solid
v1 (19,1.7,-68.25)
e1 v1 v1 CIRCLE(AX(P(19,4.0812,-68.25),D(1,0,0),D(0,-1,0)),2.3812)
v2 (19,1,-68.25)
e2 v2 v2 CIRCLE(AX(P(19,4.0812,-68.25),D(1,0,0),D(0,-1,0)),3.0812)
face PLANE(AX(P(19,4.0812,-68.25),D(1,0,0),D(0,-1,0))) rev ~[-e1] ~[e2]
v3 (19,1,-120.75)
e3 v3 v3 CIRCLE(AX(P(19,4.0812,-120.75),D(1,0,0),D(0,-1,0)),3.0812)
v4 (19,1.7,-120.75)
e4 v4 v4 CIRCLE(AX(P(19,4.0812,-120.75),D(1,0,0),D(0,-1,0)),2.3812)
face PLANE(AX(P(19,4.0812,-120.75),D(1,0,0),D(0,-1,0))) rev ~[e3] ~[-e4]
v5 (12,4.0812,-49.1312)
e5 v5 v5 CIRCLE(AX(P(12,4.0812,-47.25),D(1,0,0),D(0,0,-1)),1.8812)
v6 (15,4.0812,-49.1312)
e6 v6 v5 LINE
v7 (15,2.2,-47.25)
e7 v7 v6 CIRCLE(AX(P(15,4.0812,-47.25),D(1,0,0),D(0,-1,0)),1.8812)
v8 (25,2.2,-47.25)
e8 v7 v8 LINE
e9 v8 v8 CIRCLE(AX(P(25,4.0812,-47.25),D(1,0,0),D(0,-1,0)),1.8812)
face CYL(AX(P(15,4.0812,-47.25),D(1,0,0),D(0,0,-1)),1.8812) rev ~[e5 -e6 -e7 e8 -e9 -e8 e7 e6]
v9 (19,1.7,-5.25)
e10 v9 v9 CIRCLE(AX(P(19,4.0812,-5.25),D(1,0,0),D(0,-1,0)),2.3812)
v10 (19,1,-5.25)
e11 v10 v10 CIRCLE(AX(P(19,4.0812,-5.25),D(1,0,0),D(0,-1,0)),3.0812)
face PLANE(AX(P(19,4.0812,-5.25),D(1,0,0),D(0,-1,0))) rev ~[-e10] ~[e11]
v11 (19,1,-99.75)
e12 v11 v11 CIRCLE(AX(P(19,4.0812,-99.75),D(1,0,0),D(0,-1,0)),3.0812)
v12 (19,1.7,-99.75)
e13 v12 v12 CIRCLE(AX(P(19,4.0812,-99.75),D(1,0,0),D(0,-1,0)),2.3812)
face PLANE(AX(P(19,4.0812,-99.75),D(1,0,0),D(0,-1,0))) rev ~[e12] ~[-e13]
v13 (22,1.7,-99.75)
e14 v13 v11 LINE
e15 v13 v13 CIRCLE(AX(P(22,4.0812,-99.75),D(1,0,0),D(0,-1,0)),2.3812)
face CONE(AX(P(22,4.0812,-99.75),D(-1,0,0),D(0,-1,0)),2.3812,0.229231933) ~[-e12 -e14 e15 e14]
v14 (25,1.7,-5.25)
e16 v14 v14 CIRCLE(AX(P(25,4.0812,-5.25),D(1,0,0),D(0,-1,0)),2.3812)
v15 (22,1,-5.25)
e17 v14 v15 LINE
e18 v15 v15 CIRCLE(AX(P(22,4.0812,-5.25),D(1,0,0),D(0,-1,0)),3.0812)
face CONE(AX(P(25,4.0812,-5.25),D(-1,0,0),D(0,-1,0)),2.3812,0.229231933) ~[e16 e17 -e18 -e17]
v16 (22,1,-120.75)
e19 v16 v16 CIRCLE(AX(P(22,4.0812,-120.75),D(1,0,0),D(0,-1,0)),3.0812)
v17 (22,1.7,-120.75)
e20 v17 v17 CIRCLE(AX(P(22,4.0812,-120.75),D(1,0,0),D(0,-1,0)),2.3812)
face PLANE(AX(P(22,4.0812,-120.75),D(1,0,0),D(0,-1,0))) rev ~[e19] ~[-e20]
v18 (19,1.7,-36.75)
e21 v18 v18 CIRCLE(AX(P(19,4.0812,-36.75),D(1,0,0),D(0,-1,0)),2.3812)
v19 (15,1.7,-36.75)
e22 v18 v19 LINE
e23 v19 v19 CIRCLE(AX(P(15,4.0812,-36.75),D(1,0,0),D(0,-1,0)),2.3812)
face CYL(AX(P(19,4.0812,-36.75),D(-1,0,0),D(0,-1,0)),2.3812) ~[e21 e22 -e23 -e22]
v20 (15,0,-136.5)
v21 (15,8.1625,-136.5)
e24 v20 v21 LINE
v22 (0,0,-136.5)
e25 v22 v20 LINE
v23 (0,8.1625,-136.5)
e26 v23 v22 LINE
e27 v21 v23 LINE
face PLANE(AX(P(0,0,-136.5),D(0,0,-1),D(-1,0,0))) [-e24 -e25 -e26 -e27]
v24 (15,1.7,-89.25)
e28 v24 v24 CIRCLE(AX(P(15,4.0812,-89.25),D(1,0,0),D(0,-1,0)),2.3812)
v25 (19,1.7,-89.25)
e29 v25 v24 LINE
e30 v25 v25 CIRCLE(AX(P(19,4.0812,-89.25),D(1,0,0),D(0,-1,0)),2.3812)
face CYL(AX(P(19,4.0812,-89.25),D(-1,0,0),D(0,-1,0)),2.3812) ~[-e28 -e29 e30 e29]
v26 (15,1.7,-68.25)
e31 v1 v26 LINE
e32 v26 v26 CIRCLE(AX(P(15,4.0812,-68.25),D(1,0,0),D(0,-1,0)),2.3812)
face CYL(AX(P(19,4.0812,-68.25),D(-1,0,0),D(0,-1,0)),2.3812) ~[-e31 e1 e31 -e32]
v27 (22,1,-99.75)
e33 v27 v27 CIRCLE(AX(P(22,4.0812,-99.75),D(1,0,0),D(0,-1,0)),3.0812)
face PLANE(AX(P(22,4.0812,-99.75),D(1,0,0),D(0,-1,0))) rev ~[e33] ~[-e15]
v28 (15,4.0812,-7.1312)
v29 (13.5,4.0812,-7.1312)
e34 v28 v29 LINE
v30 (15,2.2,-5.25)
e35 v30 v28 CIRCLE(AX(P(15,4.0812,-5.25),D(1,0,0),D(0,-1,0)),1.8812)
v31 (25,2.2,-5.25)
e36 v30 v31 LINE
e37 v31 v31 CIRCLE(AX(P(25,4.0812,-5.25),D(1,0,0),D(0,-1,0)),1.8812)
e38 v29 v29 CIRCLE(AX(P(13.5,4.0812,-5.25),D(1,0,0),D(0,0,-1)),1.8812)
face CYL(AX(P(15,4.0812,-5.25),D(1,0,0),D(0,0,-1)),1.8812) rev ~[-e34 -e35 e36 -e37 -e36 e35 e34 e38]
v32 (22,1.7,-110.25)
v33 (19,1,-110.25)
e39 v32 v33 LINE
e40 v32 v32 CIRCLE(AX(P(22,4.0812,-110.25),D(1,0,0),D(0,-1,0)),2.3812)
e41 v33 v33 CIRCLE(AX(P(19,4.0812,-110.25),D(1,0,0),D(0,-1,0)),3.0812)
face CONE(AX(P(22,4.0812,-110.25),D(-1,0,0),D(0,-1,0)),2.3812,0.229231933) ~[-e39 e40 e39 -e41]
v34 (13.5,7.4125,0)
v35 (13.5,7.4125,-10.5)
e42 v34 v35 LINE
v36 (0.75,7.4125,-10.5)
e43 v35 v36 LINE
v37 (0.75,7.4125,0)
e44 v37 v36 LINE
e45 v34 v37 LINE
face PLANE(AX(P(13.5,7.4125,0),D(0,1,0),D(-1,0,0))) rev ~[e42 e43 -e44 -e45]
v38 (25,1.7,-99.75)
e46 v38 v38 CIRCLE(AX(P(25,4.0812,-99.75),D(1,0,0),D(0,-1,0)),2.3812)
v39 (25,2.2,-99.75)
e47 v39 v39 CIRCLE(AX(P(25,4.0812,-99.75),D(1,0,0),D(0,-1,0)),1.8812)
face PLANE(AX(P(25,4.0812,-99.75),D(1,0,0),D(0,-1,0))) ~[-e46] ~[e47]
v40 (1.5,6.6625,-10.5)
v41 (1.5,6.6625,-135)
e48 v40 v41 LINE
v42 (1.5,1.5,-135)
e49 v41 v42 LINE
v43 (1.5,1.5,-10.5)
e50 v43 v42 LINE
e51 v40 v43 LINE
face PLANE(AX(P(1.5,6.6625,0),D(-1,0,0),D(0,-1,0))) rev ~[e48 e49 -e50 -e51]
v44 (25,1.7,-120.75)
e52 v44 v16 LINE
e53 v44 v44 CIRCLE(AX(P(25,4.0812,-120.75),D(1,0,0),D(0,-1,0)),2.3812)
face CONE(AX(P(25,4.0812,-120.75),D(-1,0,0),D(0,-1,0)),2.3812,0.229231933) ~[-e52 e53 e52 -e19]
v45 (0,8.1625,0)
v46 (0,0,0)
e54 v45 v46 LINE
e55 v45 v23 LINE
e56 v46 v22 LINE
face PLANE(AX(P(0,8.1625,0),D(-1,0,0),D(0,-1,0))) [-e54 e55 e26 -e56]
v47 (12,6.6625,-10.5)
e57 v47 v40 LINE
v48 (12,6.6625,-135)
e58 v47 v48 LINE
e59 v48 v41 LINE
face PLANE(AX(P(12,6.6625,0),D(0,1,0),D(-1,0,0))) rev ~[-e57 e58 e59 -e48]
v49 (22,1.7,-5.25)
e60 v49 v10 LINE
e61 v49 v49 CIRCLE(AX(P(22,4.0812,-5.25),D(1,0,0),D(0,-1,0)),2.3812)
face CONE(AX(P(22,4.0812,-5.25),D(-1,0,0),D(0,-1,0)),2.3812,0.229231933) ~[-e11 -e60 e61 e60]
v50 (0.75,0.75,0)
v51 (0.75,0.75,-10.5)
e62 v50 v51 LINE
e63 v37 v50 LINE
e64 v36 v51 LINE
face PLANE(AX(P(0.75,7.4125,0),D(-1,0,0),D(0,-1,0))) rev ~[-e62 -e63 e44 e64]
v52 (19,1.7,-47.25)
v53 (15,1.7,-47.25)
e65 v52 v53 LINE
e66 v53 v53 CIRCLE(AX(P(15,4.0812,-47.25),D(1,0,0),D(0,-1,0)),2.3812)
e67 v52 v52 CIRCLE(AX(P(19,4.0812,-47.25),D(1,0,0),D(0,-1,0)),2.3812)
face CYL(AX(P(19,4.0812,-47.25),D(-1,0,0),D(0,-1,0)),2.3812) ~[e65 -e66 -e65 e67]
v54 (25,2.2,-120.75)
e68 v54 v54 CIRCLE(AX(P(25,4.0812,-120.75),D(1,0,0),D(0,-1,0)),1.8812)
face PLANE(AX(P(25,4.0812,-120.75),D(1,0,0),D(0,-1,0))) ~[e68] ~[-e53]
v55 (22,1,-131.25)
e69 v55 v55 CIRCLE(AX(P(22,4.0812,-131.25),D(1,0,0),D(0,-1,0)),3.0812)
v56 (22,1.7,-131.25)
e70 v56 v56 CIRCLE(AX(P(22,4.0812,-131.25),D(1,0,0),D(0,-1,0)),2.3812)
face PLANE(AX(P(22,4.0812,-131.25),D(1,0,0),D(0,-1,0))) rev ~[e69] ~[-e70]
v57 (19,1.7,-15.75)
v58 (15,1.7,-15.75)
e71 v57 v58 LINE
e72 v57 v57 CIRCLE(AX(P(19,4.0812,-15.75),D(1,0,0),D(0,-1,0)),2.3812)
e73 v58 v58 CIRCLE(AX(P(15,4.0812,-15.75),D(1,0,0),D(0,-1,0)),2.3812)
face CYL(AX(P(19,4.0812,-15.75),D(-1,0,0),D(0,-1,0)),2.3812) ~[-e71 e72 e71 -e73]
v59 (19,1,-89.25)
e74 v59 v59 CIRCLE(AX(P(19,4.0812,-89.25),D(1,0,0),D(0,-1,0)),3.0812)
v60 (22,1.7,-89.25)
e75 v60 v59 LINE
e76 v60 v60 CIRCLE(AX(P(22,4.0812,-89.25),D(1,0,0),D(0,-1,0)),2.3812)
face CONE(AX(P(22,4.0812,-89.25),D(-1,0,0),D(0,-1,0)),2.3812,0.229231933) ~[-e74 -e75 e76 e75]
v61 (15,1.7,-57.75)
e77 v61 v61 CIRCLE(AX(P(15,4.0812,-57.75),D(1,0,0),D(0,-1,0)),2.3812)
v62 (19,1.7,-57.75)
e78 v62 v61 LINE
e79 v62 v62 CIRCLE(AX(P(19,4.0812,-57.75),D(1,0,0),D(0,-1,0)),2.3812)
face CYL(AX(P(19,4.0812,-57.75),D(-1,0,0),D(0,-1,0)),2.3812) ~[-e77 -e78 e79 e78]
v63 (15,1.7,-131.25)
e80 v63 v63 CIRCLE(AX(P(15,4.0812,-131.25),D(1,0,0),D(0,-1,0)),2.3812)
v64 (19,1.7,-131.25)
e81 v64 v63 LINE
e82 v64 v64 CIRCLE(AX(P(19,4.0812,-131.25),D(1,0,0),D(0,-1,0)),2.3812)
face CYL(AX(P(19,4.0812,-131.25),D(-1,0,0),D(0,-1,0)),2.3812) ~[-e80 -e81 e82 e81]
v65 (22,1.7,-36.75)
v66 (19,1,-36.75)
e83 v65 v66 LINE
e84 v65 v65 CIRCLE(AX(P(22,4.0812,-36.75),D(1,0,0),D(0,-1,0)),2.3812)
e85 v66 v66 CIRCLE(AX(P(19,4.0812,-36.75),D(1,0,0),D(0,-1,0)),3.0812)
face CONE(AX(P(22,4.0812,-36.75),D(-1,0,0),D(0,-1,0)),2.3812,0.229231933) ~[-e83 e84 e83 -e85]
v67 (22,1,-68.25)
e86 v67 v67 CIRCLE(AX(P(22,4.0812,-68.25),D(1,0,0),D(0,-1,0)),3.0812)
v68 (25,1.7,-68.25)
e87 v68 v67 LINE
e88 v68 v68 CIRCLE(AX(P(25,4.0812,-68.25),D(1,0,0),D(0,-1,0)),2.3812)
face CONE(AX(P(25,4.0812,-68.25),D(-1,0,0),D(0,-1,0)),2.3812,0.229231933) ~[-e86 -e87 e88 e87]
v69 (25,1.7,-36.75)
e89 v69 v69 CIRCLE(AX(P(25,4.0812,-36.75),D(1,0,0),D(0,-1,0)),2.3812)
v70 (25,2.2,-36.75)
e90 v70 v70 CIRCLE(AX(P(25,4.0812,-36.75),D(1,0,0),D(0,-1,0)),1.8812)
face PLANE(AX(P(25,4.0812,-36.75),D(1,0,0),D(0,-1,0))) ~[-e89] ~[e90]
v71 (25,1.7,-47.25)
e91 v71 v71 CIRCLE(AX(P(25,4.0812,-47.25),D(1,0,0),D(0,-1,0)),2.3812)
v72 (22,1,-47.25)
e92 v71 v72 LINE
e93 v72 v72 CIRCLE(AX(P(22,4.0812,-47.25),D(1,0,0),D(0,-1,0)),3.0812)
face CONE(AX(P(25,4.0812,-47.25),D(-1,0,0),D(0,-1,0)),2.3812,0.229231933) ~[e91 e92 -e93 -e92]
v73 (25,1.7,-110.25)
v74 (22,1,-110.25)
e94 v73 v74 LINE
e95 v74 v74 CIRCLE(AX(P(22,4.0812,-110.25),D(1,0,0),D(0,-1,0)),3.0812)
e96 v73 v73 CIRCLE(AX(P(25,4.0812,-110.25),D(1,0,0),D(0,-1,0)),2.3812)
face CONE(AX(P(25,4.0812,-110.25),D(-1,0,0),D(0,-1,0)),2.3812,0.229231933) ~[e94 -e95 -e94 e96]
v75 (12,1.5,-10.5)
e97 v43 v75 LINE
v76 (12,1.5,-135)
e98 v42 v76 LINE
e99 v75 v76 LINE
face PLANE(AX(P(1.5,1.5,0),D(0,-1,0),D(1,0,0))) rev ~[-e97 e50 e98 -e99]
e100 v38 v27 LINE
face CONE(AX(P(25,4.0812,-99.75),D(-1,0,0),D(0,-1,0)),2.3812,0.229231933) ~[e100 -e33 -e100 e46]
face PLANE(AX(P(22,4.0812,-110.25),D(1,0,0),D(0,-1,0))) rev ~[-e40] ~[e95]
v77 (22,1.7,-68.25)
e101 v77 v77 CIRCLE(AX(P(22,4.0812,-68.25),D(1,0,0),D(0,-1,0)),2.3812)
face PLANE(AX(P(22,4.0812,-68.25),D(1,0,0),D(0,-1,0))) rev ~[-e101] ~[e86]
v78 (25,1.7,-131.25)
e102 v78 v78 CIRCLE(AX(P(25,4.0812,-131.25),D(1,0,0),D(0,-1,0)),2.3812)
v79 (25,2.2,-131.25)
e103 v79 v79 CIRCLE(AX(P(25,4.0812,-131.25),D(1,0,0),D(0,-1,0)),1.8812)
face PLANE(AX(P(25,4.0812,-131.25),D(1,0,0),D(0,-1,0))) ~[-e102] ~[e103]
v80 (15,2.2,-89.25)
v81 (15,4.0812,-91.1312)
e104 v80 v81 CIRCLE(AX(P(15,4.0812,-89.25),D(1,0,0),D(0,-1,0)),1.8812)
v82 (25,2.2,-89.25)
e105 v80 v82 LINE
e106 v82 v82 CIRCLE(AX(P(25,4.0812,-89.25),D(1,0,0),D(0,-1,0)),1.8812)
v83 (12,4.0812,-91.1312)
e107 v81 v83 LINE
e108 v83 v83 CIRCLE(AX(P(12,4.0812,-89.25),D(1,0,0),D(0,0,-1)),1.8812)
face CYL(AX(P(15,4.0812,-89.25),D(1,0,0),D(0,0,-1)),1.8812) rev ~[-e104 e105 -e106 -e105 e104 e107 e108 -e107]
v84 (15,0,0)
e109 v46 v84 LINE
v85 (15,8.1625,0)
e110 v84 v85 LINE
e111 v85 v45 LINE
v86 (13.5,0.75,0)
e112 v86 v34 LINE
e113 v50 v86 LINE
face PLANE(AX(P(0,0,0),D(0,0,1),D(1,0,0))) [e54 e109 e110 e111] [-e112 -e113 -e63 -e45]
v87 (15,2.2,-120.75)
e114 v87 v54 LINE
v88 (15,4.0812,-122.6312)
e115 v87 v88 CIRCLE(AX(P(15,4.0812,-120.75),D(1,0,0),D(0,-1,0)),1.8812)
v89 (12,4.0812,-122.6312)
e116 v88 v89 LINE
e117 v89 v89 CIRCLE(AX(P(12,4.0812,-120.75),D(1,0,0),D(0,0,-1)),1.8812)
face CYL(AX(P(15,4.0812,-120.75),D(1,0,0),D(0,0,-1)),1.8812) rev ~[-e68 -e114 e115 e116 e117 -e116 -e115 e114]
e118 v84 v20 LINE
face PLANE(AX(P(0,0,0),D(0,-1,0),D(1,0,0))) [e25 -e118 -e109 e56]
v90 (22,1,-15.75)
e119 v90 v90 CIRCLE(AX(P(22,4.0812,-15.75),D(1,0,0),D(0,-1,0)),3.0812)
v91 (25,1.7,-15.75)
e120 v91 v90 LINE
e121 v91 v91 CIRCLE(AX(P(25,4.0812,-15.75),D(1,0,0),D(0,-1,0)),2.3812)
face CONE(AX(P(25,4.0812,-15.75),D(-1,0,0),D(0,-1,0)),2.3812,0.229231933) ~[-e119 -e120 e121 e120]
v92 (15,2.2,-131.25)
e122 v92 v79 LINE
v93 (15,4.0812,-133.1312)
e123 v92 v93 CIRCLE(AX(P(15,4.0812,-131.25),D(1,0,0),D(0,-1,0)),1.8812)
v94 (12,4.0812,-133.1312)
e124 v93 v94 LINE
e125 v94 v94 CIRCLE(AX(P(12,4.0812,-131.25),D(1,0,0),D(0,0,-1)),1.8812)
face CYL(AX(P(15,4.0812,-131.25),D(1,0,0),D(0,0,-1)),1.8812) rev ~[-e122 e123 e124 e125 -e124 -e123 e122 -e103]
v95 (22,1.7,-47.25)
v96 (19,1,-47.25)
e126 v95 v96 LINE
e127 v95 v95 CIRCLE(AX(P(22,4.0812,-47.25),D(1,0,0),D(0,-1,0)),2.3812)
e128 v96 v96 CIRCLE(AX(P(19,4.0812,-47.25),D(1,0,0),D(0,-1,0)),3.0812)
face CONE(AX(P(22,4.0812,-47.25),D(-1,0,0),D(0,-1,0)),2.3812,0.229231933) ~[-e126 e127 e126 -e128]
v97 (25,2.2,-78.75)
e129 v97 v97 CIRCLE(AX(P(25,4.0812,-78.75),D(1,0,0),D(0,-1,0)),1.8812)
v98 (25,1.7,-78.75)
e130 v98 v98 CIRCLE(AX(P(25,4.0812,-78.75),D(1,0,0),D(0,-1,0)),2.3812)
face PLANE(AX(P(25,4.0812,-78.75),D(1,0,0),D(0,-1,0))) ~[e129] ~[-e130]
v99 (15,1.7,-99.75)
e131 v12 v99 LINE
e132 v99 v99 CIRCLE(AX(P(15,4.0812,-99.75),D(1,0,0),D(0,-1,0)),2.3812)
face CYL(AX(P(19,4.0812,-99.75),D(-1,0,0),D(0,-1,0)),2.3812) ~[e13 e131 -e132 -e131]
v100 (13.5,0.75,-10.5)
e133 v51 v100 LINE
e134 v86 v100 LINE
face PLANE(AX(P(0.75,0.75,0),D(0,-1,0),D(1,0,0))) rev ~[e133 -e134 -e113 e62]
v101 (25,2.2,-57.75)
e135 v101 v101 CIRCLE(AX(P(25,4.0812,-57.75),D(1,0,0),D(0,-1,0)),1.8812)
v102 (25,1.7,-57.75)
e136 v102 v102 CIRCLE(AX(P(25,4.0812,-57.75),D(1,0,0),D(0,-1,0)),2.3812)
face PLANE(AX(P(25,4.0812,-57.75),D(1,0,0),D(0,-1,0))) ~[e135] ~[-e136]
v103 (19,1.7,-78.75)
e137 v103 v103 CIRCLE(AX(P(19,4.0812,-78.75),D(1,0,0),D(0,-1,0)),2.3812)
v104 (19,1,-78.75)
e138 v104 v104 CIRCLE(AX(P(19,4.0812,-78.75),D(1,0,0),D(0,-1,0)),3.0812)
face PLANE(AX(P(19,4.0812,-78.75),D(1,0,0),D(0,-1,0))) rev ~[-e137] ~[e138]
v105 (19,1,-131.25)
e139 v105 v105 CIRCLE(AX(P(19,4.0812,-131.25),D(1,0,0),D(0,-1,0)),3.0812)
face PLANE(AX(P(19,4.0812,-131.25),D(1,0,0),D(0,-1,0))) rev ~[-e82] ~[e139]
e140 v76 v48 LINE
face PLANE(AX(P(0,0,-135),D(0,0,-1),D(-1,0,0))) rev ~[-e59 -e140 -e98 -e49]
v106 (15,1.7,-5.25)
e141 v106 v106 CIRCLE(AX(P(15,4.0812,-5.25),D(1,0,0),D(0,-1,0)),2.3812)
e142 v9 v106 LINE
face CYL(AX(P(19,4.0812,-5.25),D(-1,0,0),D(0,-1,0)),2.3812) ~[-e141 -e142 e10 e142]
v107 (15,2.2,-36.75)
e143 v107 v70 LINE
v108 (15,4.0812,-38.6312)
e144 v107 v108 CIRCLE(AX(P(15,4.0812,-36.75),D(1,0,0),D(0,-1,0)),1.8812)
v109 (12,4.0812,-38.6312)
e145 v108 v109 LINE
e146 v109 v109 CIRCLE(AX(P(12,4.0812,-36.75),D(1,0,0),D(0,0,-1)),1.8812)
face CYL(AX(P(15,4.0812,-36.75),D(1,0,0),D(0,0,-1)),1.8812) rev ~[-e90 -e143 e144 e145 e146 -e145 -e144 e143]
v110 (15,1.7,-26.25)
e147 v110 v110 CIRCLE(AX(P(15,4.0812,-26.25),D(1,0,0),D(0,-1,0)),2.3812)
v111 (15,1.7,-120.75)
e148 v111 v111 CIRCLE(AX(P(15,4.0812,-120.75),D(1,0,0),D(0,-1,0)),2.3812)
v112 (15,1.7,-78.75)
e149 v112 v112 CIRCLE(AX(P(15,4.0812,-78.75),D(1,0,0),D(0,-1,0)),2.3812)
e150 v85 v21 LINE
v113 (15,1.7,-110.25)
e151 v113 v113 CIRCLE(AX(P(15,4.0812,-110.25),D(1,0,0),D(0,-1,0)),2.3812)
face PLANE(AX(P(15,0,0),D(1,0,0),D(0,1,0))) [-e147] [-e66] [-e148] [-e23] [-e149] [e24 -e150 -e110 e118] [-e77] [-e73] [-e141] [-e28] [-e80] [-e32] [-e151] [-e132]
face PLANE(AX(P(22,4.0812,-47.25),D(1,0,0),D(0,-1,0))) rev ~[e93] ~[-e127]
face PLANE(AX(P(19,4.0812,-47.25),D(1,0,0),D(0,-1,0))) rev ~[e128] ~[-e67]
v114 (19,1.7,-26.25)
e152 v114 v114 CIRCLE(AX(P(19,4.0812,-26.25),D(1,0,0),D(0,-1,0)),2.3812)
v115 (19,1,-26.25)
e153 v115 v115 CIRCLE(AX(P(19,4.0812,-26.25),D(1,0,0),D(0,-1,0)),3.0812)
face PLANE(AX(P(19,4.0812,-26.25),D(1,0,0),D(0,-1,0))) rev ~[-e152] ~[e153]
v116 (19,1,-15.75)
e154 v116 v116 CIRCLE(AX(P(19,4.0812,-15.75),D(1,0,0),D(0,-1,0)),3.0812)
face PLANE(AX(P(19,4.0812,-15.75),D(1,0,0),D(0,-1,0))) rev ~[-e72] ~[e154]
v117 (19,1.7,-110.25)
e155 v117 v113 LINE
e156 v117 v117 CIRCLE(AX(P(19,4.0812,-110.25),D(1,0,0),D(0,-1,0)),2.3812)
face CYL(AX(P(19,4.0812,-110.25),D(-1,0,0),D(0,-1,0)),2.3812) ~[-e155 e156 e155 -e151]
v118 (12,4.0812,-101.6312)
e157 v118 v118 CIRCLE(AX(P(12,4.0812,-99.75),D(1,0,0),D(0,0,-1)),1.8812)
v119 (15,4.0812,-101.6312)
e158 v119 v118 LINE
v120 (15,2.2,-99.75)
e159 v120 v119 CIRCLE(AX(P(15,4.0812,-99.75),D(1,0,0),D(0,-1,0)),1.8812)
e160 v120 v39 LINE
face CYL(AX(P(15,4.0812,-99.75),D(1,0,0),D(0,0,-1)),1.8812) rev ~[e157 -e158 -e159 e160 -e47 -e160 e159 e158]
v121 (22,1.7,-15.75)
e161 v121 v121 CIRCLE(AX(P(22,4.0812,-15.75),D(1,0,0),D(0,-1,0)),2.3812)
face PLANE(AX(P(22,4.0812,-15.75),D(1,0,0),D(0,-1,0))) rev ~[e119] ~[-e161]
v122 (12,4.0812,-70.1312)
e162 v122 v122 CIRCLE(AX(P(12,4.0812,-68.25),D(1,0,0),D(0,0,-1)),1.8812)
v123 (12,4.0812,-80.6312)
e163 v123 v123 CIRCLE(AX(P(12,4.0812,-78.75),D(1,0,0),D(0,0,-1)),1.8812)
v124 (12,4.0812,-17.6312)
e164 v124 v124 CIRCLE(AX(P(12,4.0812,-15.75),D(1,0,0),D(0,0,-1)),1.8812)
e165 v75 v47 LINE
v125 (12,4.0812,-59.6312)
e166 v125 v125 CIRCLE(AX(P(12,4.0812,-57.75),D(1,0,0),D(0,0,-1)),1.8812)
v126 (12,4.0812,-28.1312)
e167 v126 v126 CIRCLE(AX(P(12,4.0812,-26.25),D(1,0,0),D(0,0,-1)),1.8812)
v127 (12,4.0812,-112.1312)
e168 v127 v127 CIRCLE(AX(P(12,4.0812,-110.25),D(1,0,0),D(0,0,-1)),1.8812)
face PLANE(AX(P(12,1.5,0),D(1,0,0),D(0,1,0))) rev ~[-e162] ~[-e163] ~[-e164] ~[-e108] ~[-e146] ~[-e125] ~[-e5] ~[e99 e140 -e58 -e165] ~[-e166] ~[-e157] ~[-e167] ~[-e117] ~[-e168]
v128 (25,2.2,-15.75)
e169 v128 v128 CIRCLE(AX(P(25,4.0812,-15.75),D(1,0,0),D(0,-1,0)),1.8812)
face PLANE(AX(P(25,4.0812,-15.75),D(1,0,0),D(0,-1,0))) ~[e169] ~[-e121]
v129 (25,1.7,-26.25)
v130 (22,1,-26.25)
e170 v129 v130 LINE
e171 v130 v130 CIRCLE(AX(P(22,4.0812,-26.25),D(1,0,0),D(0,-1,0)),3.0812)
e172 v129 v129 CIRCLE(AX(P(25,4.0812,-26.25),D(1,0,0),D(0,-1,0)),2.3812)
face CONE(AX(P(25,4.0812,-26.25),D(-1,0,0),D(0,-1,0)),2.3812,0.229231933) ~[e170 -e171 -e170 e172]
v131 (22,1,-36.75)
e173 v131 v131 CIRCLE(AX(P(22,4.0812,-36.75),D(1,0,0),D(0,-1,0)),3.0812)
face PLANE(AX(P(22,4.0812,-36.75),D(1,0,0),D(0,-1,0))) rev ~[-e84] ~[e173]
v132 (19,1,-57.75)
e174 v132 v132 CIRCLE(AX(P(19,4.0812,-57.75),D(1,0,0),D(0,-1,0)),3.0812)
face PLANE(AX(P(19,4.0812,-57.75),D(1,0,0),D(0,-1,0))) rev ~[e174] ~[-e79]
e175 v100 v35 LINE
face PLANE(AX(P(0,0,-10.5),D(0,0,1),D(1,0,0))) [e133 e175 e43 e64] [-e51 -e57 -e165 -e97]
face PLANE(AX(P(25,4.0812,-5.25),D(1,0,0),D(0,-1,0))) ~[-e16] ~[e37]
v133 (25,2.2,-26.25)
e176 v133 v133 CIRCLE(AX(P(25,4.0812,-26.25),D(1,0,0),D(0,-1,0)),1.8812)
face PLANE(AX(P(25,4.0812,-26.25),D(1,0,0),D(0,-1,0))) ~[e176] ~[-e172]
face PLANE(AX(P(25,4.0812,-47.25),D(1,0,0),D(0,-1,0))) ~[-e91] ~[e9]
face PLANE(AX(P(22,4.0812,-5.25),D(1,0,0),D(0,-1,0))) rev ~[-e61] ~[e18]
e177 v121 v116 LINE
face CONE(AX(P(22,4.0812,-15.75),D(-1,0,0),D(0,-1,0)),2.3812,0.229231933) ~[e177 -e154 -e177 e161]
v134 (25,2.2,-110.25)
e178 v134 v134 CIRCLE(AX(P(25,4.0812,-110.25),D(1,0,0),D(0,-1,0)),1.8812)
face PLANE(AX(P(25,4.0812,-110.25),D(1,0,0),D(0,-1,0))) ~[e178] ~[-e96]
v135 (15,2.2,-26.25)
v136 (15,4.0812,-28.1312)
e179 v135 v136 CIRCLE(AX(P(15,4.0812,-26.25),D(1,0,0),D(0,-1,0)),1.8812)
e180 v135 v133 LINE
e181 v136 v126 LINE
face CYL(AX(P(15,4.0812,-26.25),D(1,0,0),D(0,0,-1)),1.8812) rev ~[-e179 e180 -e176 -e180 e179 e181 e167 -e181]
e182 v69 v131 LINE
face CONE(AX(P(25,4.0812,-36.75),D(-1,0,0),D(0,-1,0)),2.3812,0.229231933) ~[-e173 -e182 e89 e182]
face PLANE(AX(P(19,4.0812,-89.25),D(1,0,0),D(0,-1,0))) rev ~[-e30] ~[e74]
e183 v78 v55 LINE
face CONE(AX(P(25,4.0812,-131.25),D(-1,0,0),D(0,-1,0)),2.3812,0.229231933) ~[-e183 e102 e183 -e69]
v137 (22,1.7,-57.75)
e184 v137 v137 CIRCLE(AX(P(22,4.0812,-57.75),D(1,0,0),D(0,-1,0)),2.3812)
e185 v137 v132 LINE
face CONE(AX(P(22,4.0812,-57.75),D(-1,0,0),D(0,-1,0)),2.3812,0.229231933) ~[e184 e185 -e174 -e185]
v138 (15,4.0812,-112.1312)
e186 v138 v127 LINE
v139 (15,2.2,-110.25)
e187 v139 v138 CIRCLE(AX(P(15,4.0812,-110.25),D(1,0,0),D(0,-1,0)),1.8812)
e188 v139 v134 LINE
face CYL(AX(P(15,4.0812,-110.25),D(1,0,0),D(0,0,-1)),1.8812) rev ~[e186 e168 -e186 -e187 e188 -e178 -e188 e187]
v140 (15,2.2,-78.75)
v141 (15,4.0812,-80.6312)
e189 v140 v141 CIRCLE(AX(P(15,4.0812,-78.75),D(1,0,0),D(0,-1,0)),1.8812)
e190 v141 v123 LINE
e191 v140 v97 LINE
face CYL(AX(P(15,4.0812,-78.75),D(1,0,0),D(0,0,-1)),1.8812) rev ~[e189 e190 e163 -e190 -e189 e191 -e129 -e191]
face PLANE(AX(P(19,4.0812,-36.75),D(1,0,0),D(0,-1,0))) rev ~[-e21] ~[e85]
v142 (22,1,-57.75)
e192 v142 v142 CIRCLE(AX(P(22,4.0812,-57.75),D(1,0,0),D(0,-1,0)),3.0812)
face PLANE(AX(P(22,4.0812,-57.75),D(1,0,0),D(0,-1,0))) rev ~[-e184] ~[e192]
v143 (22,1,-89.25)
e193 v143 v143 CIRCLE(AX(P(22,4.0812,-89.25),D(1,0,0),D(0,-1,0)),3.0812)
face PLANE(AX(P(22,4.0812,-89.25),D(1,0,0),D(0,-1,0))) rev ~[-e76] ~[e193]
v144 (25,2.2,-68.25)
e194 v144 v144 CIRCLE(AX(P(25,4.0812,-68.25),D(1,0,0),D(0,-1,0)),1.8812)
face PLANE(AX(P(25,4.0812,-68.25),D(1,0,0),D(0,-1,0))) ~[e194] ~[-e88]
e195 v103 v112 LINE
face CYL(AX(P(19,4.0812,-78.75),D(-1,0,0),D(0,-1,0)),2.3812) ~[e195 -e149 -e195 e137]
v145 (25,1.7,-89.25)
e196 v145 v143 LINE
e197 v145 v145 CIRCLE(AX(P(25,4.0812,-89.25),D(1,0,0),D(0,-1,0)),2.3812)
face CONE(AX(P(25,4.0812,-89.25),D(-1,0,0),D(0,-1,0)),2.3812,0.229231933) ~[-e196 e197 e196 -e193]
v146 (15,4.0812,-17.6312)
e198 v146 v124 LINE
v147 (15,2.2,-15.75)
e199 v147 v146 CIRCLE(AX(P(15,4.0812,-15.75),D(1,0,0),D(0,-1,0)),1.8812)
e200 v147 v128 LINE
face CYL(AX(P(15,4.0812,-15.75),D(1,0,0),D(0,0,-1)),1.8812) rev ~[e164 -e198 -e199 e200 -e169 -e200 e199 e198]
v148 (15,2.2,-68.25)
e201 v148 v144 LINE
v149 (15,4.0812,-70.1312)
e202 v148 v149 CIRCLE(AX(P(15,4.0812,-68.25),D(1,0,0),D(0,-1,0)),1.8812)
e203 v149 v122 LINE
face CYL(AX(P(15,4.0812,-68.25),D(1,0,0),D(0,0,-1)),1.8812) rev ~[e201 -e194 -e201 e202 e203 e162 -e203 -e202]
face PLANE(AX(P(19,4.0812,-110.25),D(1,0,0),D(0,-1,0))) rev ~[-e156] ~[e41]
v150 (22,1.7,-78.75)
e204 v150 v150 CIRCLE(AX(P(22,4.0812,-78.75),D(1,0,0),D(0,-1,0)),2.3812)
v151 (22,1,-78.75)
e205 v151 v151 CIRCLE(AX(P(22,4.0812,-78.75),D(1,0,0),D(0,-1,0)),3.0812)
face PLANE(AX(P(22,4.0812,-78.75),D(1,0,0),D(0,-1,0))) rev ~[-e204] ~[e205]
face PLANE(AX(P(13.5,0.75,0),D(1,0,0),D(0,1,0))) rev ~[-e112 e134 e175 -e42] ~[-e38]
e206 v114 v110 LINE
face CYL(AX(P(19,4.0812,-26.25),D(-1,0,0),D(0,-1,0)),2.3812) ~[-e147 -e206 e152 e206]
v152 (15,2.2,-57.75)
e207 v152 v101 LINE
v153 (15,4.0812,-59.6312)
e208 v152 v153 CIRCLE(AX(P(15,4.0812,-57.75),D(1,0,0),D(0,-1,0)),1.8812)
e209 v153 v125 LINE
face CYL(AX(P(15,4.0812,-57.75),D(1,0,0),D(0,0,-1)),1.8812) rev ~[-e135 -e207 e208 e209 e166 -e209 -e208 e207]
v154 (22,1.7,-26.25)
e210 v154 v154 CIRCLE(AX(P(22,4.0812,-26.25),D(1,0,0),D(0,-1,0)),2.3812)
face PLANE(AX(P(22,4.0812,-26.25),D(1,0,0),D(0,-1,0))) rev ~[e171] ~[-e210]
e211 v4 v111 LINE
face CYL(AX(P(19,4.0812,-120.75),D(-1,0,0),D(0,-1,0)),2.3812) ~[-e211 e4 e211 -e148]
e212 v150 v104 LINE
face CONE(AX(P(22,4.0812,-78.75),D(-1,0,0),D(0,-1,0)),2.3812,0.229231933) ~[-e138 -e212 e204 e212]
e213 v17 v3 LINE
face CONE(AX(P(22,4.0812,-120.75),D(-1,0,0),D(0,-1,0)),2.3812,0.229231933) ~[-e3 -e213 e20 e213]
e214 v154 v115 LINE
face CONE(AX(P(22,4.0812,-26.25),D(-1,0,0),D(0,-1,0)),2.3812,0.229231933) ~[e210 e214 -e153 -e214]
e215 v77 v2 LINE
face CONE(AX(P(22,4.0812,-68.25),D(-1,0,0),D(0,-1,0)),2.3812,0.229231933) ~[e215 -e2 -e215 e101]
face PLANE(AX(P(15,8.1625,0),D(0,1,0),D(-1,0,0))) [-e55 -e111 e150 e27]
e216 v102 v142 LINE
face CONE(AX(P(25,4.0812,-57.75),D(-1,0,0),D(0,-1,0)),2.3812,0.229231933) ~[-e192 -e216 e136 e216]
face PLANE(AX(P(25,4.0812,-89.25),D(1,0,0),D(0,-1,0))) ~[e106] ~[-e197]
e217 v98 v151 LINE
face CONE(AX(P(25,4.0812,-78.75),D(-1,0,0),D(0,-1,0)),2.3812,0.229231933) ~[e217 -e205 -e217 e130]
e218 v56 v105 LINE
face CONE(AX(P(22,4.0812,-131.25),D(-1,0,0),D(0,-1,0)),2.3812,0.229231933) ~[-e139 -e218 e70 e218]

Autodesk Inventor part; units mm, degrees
ref_plane "YZ Plane" through (0, 0, 0) normal (1, 0, 0) x (0, 1, 0)
ref_plane "Silicone Fitting Plane" through (0, 0, -5.25) normal (0, 0, 1) x (1, 0, 0)
ref_plane "Cap Plane" through (0, 0, -136.5) normal (0, 0, 1) x (1, 0, 0)
sketch "Base Sketch" plane through (0, 0, 0) normal (0, 0, 1) x (1, 0, 0)
  line L0 (0, 0) -> (15, 0)
  line L1 (15, 0) -> (15, 8.1625)
  line L2 (15, 8.1625) -> (0, 8.1625)
  line L3 (0, 8.1625) -> (0, 0)
  line L4 (1.5, 1.5) -> (12, 1.5)
  line L5 (12, 1.5) -> (12, 6.6625)
  line L6 (12, 6.6625) -> (1.5, 6.6625)
  line L7 (1.5, 6.6625) -> (1.5, 1.5)
  dimension "Height" = 8.1625
  dimension "Width" = 15
  dimension "d1" = 1.5
  dimension "d2" = 1.5
  dimension "d3" = 1.5
  dimension "FittingWallWallThickness" = 3
extrude "Base" add sketch "Base Sketch" against normal blind 136.5
sketch "Silicone Fitting Sketch" plane through (0, 0, -5.25) normal (0, 0, 1) x (1, 0, 0)
  line L0 (15, 4.0812) -> (25, 4.0812) construction
  line L1 (25, 4.0812) -> (25, 1.7)
  line L2 (25, 1.7) -> (22, 1)
  line L3 (22, 1) -> (22, 1.7)
  line L4 (22, 1.7) -> (19, 1)
  line L5 (19, 1) -> (19, 1.7)
  line L6 (19, 1.7) -> (15, 1.7)
  line L7 (15, 1.7) -> (15, 4.0812)
  line L8 (25, 1.7) -> (19, 1.7) construction
  line L9 (15, 2.2) -> (25, 2.2)
  line L10 (-5, 0) -> (30, 0) construction
  point P0 (0, 0)
  dimension "FittingLength" = 10
  dimension "FittingRadius" = 2.3813
  dimension "d4" = 0.5
  dimension "BarbHeight" = 0.7
  dimension "BarbLength" = 3
  dimension "d5" = 15
  dimension "FittingClearance" = 1
revolve "Silicone Fitting" add sketch "Silicone Fitting Sketch" angle 360 about axis through (15, 4.0812, -5.25) along (1, 0, 0)
sketch "Airflow Cut Sketch" plane through (15, 4.0812, -5.25) normal (1, 0, 0) x (0, 0, -1)
  circle A0 centre (0, 0) radius 1.8812 projected
  point P0 (-5.25, -4.0812)
extrude "Airflow Cut" cut sketch "Airflow Cut Sketch" against normal up to surface (3 mm away)
pattern_linear "Fitting Repetitions" count 13 spacing 10.5 along (0, 0, -1) of "Silicone Fitting", "Airflow Cut"
sketch "Sketch22" plane through (0, 0, 0) normal (0, 0, 1) x (1, 0, 0)
  line L0 (0.75, 0.75) -> (13.5, 0.75)
  line L1 (13.5, 0.75) -> (13.5, 7.4125)
  line L2 (13.5, 7.4125) -> (0.75, 7.4125)
  line L3 (0.75, 7.4125) -> (0.75, 0.75)
  line L4 (1.5, 1.5) -> (12, 1.5)
  line L5 (12, 1.5) -> (12, 6.6625)
  line L6 (12, 6.6625) -> (1.5, 6.6625)
  line L7 (1.5, 6.6625) -> (1.5, 1.5)
  point P0 (0, 0)
  dimension "d141" = 0.75
  dimension "d142" = 0.75
  dimension "d143" = 6.6625
  dimension "d144" = 12.75
  dimension "d145" = 1.5
  dimension "d146" = 0.75
  dimension "d147" = 0.75
  dimension "d148" = 0.75
extrude "Extrusion21" cut sketch "Sketch22" against normal blind 10.5
sketch "Sketch23" plane through (0, 0, -136.5) normal (0, 0, -1) x (-1, 0, 0)
  line L0 (-12, 1.5) -> (-12, 6.6625) projected
  line L1 (-12, 6.6625) -> (-1.5, 6.6625) projected
  line L2 (-1.5, 6.6625) -> (-1.5, 1.5) projected
  line L3 (-1.5, 1.5) -> (-12, 1.5) projected
  point P0 (0, 0)
extrude "Extrusion24" add sketch "Sketch23" against normal blind 1.5
equation "\"Height\" = 2 * FittingRadius + 2 * FittingClearance + 2 * BarbHeight"
equation "\"Width\" = ManifoldWidth"
equation "\"d1\" = WallThickness"
equation "\"d2\" = WallThickness"
equation "\"d3\" = WallThickness"
equation "\"FittingWallWallThickness\" = 2 * WallThickness"
equation "\"FittingLength\" = ManifoldFittingLength"
equation "\"d5\" = Width"
equation "\"d11\" = myKeyWidth + myKeySpacing"
equation "\"d141\" = 0.5 * WallThickness"
equation "\"d142\" = 0.5 * WallThickness"
equation "\"d143\" = Height - WallThickness"
equation "\"d144\" = -0.5 * WallThickness + Width - 0.5 * FittingWallWallThickness"
equation "\"d145\" = 0.5 * FittingWallWallThickness"
equation "\"d146\" = 0.5 * WallThickness"
equation "\"d147\" = 0.5 * WallThickness"
equation "\"d148\" = 0.5 * WallThickness"
equation "\"d149\" = KeyWidth + KeySpacing"
equation "\"d155\" = WallThickness"
equation "\"myKeyWidth\" = KeyWidth"
equation "\"myKeySpacing\" = KeySpacing"
equation "\"WallThickness\" = 1.5"
equation "\"d6\" = -0.5 * myKeyWidth - 0.5 * myKeySpacing"
equation "\"ManifoldWidth\" = 15"
equation "\"ManifoldFittingLength\" = 10"
equation "\"KeyWidth\" = 10"
equation "\"KeySpacing\" = 0.5"
properties part number "ManifoldExtension0" material "ABS Plastic"
